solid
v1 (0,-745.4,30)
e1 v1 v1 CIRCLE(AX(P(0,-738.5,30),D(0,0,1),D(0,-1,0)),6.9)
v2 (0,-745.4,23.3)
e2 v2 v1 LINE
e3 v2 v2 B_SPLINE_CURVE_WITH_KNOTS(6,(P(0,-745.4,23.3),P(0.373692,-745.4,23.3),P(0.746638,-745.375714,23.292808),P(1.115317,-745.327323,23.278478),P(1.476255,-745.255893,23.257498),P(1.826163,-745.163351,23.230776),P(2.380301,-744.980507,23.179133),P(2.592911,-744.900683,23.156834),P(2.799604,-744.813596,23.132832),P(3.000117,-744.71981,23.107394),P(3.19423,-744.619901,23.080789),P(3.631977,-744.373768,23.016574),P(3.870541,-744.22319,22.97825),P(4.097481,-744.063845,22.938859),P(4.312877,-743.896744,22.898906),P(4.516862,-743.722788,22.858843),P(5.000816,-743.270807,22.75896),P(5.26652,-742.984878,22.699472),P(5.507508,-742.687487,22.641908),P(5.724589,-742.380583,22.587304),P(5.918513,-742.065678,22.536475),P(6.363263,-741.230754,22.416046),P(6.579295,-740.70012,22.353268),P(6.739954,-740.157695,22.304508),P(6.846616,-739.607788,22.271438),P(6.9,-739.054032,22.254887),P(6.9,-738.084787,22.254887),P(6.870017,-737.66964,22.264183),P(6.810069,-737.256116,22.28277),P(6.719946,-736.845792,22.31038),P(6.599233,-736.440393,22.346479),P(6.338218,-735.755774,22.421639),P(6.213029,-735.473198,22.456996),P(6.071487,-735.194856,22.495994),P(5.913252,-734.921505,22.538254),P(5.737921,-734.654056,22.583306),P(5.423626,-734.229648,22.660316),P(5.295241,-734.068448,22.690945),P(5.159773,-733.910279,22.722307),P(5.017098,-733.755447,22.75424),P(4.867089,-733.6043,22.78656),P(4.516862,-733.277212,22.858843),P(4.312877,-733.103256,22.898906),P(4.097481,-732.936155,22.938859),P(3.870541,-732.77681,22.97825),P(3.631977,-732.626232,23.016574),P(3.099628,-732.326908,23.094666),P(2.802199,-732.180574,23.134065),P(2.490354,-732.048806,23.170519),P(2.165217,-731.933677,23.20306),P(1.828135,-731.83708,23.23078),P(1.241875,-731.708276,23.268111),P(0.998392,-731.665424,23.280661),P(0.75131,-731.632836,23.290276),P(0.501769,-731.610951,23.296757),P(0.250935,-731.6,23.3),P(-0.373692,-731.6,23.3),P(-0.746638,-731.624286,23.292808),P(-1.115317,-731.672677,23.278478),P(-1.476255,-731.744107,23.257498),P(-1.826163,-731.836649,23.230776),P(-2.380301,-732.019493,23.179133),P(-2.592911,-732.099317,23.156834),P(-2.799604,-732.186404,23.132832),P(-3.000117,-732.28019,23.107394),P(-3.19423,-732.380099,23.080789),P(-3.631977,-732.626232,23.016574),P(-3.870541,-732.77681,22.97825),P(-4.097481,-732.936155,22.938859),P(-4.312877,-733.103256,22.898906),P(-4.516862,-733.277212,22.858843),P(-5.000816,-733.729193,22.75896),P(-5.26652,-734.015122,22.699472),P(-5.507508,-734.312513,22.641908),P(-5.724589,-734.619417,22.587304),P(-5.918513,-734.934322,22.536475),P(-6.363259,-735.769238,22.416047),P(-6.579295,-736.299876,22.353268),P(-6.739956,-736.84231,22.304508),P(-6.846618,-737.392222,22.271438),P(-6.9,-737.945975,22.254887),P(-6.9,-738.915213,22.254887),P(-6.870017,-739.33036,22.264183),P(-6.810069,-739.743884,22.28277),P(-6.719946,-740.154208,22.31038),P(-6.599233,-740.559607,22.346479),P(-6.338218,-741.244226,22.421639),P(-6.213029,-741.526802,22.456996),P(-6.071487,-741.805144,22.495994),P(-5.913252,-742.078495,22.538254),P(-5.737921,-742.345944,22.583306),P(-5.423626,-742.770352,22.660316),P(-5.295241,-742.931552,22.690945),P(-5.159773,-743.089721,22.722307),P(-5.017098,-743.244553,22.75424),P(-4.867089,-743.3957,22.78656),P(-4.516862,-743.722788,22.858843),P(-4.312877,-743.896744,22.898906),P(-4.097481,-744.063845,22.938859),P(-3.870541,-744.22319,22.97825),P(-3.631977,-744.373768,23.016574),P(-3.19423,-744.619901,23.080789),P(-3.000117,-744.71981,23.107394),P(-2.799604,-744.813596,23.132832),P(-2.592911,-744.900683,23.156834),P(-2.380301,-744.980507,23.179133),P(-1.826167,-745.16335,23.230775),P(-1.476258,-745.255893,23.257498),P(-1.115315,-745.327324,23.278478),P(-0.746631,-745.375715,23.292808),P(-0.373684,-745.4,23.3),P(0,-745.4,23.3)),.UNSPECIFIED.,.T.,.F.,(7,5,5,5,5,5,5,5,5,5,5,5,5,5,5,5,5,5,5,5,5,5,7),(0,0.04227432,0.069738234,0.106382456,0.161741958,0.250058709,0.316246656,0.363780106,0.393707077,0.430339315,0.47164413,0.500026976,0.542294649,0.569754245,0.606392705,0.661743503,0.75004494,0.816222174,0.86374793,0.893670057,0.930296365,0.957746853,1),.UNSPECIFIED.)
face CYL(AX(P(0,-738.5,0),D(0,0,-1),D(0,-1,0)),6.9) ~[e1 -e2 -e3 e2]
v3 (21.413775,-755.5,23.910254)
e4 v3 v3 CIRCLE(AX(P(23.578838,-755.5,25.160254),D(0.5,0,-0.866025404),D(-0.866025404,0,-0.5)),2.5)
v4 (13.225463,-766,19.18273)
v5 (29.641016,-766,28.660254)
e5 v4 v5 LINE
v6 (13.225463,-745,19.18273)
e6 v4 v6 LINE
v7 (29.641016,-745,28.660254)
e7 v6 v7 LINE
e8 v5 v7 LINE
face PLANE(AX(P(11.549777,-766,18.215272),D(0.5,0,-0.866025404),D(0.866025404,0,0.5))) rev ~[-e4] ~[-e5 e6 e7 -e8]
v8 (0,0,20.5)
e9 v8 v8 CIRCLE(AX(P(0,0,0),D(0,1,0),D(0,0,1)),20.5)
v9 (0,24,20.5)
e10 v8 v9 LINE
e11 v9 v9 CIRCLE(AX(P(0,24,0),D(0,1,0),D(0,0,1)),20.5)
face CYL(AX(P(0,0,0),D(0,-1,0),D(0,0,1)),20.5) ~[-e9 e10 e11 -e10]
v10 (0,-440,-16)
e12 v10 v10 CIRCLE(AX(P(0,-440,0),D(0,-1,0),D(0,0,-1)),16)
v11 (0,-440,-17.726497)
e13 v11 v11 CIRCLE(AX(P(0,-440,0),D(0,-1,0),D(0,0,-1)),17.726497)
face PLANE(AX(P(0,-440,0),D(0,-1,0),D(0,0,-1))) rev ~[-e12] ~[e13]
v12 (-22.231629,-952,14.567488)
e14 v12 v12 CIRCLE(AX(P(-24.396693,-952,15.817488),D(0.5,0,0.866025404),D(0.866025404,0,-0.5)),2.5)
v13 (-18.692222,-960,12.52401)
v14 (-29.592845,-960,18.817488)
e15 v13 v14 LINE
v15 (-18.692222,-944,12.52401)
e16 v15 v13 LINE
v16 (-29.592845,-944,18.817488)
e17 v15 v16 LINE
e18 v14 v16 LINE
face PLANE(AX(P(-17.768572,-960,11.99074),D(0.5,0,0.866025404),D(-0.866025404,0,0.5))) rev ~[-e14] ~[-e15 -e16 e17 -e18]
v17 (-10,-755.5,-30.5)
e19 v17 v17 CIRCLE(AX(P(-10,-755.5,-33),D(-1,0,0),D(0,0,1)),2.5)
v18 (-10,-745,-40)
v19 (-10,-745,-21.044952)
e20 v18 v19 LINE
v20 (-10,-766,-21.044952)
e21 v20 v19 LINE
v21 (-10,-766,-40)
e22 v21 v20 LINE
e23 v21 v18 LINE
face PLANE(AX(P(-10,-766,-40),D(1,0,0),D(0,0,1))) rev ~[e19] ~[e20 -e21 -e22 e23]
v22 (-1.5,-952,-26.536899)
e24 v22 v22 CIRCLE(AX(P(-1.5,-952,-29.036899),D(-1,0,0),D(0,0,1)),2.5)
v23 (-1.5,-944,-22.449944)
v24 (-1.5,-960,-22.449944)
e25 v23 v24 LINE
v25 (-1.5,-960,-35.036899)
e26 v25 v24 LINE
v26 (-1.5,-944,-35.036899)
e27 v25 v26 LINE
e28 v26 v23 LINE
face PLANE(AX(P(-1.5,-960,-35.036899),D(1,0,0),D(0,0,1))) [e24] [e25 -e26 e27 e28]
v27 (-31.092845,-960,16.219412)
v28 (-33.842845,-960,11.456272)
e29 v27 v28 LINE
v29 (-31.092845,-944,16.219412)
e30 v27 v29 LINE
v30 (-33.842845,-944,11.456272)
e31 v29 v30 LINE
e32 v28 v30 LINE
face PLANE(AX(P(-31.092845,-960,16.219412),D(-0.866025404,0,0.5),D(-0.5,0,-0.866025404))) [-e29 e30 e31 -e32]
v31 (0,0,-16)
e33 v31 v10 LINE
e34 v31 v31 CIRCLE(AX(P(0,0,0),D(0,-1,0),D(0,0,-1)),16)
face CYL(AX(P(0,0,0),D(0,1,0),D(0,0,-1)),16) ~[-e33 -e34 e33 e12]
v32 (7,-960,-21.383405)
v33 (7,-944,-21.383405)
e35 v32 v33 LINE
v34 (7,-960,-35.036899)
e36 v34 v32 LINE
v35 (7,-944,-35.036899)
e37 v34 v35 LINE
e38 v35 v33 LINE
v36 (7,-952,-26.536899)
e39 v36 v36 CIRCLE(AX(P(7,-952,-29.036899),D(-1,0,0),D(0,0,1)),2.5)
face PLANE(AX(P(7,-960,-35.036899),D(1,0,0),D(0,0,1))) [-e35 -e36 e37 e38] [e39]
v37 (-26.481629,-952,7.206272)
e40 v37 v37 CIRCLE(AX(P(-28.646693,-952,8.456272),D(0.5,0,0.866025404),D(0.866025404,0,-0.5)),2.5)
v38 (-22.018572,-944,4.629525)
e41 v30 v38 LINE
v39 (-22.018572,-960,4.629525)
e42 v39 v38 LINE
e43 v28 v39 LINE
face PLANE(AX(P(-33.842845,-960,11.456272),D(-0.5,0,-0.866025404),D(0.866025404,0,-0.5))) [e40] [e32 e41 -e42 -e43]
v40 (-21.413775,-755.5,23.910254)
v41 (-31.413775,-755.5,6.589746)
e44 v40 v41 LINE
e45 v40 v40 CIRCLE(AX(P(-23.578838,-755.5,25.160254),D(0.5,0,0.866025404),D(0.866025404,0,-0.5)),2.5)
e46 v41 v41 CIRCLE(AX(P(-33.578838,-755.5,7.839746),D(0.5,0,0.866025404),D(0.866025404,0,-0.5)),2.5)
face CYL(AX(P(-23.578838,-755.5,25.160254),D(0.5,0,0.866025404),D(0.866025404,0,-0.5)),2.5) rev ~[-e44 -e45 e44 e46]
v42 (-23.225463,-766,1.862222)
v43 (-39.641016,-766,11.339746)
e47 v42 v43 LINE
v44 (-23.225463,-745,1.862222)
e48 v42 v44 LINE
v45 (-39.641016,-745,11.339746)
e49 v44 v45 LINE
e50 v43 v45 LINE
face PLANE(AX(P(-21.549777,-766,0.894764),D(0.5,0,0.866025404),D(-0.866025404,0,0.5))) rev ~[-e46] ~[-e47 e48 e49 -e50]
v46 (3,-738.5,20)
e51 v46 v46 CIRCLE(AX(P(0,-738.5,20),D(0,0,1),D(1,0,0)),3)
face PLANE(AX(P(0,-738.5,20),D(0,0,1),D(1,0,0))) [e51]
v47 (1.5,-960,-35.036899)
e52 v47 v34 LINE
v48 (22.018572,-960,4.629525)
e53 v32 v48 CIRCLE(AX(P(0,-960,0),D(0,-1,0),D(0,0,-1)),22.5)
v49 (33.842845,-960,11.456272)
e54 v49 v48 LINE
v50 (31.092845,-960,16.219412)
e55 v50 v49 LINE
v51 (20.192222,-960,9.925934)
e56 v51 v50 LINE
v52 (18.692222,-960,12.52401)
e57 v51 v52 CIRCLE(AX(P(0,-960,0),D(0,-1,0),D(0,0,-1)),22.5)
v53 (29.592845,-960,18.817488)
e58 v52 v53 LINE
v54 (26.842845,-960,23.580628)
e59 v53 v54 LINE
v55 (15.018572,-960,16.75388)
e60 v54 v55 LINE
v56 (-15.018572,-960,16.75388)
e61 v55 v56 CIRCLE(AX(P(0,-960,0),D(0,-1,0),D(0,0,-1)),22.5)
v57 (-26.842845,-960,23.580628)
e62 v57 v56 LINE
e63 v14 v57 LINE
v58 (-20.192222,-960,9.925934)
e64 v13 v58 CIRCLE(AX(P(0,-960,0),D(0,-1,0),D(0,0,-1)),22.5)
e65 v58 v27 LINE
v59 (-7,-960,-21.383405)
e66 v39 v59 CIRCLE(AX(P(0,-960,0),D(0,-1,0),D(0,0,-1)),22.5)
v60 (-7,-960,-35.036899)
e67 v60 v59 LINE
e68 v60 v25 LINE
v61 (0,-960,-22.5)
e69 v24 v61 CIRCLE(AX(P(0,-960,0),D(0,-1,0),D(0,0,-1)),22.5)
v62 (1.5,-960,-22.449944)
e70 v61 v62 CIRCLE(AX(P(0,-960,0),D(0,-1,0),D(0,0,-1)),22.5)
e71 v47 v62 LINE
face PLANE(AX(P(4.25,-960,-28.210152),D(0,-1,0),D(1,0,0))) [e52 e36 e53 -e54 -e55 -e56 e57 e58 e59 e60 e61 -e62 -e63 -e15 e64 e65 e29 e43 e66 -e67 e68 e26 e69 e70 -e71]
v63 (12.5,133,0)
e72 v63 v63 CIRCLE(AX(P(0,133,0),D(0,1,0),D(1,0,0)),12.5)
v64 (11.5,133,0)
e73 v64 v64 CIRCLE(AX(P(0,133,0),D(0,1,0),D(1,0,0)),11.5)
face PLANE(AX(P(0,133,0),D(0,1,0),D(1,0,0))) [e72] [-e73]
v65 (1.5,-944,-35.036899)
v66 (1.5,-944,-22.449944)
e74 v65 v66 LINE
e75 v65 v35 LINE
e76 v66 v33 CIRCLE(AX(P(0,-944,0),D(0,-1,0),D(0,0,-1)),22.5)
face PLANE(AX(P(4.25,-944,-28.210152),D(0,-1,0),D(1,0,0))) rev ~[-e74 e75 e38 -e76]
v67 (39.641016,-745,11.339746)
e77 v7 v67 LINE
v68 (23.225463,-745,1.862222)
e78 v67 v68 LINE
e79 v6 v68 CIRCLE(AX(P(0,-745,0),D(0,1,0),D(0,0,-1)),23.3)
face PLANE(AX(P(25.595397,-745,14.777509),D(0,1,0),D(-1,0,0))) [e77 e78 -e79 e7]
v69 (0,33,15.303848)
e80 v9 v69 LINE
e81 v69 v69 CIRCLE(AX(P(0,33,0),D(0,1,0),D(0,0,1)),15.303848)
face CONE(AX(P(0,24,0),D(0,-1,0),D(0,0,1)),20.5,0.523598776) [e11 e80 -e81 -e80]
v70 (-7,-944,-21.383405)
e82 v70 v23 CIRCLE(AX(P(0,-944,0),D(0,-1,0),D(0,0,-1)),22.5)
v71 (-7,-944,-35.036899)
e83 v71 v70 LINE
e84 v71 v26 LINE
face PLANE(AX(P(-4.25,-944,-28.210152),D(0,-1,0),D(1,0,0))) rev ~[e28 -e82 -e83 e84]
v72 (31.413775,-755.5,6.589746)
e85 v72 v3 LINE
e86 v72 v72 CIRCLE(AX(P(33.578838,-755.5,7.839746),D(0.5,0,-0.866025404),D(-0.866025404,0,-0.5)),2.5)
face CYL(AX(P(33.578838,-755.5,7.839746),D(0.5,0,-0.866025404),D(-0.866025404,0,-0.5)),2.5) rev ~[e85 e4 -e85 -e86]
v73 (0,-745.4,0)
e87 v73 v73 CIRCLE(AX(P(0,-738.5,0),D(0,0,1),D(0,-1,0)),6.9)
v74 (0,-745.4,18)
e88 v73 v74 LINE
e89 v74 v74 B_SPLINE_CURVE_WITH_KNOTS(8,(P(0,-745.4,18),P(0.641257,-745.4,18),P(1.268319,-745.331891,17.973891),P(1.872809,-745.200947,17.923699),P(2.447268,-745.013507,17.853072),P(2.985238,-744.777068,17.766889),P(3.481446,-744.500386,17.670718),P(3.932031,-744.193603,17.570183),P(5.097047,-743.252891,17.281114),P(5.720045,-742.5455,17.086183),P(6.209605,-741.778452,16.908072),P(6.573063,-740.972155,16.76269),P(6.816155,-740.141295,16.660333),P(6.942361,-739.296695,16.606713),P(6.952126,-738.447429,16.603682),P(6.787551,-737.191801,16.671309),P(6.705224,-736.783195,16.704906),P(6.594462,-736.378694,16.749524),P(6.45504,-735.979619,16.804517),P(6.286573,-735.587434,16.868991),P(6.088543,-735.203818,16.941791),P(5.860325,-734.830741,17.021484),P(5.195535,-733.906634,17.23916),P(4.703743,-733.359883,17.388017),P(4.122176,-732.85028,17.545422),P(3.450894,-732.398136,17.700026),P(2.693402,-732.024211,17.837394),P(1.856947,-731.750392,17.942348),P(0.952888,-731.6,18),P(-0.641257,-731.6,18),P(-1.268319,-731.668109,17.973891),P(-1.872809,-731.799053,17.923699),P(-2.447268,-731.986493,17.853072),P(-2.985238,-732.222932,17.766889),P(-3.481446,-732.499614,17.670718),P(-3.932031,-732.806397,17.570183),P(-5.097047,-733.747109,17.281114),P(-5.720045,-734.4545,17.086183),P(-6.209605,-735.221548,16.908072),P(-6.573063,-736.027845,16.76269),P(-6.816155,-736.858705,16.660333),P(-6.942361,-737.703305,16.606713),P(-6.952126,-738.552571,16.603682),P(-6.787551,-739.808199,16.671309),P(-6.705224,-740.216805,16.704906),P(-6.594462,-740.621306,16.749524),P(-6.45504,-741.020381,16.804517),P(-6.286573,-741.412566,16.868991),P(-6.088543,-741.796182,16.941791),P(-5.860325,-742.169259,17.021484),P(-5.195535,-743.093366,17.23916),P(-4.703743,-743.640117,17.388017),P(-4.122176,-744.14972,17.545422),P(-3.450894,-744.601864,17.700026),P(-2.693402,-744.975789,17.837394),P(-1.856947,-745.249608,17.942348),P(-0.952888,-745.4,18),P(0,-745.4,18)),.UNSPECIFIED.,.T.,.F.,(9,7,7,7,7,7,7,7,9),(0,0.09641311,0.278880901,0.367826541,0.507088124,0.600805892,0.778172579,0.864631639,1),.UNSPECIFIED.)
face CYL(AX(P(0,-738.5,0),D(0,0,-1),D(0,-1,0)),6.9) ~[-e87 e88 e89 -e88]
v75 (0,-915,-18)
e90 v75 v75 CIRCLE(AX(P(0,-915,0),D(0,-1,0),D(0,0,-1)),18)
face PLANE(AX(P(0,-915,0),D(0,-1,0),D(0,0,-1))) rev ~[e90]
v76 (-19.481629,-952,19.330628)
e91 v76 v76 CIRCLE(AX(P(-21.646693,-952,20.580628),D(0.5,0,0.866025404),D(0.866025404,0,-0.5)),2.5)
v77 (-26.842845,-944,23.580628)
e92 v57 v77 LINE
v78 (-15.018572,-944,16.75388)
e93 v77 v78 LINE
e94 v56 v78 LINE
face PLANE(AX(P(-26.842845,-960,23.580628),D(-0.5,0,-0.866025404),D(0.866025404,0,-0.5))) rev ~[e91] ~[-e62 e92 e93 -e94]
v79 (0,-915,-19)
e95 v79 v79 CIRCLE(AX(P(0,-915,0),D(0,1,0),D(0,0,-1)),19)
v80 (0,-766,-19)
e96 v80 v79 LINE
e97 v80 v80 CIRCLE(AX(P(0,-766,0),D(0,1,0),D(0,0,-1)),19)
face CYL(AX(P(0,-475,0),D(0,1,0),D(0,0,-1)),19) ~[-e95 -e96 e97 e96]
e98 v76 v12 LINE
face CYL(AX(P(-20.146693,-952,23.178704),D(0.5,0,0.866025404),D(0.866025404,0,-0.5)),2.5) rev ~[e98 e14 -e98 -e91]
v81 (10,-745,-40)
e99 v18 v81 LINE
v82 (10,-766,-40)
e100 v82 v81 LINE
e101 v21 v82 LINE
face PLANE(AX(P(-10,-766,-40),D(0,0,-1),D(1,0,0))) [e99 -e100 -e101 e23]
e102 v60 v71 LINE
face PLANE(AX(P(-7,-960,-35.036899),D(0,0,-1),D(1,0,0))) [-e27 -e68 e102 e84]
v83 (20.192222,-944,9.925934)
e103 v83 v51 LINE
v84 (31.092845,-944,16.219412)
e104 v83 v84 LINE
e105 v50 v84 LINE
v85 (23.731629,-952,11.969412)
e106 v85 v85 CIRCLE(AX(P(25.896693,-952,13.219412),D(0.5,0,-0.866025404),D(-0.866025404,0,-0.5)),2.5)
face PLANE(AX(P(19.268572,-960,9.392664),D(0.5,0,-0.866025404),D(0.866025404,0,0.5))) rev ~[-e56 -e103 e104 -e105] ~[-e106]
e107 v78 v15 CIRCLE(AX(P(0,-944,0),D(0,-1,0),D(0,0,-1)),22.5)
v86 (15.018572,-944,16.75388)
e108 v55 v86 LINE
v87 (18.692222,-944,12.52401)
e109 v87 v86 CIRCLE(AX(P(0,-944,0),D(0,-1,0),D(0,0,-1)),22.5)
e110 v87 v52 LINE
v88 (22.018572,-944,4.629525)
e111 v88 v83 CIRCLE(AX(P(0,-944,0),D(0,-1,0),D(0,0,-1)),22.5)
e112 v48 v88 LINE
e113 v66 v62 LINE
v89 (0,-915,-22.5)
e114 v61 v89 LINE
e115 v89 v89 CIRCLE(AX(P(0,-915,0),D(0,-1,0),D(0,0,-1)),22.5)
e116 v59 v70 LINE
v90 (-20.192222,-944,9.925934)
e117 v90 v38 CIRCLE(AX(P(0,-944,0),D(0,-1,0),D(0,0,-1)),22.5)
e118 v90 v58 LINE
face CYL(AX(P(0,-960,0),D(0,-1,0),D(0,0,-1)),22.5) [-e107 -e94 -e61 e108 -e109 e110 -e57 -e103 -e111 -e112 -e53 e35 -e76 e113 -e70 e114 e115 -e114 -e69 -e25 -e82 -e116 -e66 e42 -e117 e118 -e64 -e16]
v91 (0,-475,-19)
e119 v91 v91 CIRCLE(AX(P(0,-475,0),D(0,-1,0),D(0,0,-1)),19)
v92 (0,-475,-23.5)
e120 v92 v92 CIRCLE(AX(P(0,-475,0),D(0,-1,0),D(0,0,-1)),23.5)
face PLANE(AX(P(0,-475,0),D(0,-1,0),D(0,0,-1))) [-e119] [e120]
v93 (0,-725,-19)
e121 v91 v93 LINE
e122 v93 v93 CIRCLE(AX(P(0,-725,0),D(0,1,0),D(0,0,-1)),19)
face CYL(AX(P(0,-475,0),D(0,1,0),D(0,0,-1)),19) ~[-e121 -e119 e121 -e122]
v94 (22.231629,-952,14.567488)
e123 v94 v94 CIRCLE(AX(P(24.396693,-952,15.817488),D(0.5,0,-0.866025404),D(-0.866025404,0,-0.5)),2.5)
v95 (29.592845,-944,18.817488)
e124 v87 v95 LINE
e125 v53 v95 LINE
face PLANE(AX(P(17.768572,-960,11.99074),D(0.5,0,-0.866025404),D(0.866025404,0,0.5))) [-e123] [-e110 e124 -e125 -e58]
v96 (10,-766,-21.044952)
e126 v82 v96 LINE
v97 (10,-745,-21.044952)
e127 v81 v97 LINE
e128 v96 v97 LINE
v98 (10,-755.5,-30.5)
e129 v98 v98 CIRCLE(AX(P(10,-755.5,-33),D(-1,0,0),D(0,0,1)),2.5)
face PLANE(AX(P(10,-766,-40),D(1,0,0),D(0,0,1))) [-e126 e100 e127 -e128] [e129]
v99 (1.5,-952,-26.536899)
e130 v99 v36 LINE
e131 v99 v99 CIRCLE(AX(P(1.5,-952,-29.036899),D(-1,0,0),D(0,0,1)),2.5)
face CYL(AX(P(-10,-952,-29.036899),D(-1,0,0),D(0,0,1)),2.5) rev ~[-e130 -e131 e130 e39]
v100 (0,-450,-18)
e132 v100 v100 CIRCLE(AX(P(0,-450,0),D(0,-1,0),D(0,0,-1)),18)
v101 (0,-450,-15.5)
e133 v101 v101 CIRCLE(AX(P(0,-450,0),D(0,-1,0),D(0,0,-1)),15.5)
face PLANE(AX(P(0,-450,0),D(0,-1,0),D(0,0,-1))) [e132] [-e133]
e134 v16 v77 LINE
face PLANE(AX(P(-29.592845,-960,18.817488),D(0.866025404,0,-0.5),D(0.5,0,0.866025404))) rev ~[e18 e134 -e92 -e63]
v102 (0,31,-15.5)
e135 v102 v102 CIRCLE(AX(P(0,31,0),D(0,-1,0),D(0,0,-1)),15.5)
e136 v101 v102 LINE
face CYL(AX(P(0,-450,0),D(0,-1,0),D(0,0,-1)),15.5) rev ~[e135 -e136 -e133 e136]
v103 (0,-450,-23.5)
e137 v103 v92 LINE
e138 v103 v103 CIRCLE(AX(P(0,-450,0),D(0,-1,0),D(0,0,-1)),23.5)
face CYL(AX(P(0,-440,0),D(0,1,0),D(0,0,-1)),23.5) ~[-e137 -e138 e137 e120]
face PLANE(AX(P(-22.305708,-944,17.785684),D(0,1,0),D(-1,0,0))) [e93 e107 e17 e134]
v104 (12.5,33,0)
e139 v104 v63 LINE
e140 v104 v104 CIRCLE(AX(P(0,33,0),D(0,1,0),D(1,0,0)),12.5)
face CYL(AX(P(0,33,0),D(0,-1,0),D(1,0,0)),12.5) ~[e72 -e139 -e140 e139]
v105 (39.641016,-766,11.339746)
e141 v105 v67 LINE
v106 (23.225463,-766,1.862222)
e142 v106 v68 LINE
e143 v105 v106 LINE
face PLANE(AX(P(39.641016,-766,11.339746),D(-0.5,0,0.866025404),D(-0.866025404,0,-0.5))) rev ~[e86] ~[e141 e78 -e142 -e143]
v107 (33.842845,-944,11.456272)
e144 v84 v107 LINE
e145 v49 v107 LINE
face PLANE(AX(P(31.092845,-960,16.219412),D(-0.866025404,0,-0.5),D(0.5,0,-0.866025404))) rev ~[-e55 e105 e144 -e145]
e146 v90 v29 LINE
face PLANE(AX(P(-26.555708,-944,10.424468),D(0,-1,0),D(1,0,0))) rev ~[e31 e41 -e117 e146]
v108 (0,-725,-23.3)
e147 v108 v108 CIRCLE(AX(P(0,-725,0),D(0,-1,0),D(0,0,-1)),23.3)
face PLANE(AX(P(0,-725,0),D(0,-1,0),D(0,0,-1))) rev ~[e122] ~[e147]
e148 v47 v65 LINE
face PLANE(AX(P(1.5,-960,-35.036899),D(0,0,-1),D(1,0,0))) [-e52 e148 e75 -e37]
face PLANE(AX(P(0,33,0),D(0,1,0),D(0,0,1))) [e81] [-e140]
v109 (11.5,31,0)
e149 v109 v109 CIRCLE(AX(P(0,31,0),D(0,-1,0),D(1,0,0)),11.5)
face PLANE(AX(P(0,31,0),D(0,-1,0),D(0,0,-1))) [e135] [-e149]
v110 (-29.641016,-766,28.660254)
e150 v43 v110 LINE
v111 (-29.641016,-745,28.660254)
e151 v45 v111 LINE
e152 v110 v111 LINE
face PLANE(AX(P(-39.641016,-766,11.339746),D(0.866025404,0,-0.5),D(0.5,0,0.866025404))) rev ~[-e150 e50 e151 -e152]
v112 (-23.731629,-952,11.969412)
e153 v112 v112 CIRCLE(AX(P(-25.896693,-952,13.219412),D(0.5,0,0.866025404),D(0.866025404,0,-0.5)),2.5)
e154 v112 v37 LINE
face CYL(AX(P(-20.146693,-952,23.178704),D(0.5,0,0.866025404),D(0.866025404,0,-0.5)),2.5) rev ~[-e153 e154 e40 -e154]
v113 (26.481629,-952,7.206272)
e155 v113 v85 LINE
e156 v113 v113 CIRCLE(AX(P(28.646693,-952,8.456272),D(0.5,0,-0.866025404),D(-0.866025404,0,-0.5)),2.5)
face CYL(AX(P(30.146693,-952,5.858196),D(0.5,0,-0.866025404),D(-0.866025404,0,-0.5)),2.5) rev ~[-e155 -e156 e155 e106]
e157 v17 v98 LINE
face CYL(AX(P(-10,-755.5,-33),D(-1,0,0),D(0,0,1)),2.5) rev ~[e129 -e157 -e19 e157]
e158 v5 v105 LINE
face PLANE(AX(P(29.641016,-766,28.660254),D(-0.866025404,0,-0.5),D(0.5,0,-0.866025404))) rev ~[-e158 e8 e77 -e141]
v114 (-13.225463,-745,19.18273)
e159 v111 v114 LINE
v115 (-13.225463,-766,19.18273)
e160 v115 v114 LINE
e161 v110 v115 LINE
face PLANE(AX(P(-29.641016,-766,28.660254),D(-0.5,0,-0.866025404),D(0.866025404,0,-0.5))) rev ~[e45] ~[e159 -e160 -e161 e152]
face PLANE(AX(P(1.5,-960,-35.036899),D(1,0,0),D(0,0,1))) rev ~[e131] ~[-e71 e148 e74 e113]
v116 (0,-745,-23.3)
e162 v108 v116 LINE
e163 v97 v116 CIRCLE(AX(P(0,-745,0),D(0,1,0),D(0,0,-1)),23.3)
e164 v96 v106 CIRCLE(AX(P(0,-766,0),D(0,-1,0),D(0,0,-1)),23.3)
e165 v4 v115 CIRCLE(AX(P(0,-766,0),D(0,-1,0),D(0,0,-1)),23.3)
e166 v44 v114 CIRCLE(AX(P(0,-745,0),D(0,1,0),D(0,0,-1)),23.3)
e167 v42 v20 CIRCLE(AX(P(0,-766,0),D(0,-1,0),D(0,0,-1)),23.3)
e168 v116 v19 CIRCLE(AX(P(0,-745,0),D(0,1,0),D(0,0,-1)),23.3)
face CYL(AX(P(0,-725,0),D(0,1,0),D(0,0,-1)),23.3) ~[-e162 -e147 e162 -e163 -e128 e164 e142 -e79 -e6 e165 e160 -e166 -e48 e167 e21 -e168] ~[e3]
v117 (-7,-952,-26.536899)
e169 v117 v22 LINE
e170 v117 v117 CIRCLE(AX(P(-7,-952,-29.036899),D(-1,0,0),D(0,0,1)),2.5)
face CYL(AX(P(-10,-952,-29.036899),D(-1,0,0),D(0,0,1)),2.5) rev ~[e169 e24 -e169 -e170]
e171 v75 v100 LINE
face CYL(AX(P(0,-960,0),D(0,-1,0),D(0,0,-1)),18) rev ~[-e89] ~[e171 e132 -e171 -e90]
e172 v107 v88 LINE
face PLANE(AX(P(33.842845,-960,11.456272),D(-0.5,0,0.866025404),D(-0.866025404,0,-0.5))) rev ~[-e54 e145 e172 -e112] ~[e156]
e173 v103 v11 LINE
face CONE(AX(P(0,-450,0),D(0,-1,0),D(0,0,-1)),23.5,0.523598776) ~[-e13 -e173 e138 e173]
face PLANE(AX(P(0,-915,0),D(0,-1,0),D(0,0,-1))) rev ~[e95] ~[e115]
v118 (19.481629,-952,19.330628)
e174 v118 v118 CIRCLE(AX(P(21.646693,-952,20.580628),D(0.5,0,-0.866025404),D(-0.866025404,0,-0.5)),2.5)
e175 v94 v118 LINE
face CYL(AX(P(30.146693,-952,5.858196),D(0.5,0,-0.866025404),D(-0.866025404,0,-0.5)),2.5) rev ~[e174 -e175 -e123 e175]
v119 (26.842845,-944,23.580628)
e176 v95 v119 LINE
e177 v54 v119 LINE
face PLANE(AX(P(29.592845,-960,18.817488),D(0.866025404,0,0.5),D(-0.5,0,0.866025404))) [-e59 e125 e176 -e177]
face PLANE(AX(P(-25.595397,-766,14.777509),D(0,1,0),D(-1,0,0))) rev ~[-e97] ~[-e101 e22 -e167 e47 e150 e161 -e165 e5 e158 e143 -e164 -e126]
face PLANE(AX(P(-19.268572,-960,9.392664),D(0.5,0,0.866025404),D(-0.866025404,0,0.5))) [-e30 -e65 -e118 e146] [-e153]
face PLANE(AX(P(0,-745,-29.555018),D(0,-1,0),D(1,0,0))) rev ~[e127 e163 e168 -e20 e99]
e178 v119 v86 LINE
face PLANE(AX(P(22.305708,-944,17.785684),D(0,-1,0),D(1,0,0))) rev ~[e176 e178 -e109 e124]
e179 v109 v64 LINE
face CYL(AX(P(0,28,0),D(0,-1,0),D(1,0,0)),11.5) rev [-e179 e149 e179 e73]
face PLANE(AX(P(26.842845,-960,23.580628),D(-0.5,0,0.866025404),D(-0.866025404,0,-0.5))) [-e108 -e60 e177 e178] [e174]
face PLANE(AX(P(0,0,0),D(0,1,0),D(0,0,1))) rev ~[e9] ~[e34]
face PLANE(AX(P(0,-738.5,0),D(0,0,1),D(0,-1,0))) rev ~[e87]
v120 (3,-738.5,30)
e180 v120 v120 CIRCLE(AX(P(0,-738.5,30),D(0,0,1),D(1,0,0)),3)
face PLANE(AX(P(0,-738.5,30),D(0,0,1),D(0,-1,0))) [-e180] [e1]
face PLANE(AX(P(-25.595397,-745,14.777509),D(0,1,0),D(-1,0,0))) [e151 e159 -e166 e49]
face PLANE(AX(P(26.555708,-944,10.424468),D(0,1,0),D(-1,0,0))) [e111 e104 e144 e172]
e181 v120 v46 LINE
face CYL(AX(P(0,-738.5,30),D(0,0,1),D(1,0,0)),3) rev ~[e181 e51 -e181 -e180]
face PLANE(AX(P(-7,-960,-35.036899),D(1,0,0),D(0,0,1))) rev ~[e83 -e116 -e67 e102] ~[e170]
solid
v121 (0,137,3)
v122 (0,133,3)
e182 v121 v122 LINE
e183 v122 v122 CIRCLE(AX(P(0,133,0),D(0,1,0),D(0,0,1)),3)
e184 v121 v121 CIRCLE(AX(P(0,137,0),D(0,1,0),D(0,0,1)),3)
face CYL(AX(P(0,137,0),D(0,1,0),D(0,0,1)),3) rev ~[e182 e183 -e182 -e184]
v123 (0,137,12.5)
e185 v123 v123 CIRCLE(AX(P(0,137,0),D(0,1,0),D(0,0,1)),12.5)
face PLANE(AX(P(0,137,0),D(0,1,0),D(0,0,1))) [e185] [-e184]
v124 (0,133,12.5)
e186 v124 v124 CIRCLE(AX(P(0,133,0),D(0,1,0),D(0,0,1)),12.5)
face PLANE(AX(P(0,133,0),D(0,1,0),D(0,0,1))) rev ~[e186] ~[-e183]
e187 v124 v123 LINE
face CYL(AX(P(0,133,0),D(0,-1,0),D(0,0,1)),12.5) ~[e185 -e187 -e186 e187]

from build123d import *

# Parameters (mm, degrees)
SKETCH_1_R               = 20.5
EXTRUDE_1_DEPTH          = 33
CHAMFER_1_SIZE           = 9
CHAMFER_1_SIZE2          = 5.196152423
SKETCH_2_R               = 16
F_2_MAX_440_DEPTH        = 440
SKETCH_3_R               = 23.5
EXTRUDE_3_DEPTH          = 35
CHAMFER_2_SIZE           = 10
CHAMFER_2_SIZE2          = 5.773502692
SKETCH_4_R               = 19
EXTRUDE_4_DEPTH          = 485
SKETCH_12_R              = 18
CUT_EXTRUDE_2_DEPTH      = 510
SKETCH_14_R              = 15.5
CUT_EXTRUDE_3_DEPTH      = 481
SKETCH_15_R              = 12.5
SKETCH_15_R_2            = 11.5
F_1_MAX_500_DEPTH        = 100
CUT_EXTRUDE_START        = -5
SKETCH_16_R              = 11.5
CUT_EXTRUDE_4_DEPTH      = 5
SKETCH_17_R              = 12.5
EXTRUDE_9_DEPTH          = 4
SKETCH_18_R              = 3
CUT_EXTRUDE_5_DEPTH      = 4
SKETCH_5_R               = 23.3
SKETCH_5_R_2             = 18.5
EXTRUDE_5_DEPTH          = 41
SKETCH_6_R               = 22.5
EXTRUDE_6_DEPTH          = 45
SKETCH_8_R               = 6.9
EXTRUDE_7_DEPTH          = 30
SKETCH_9_W               = 20
SKETCH_9_H               = 20.88996333
EXTRUDE_8_DEPTH          = 21
SKETCH_22_W              = 5.5
SKETCH_22_H              = 13.65349464
EXTRUDE_10_DEPTH         = 16
SKETCH_19_R              = 2.5
CUT_EXTRUDE_6_DEPTH      = 30
PATTERN_CIRCULAR_3_COUNT = 3
SKETCH_21_R              = 3
CUT_EXTRUDE_7_DEPTH      = 10


with BuildPart() as part:
    # Эскиз1 → Бобышка-Вытянуть1 (new body)
    with BuildSketch(Plane(origin=(0, 0, 0), x_dir=(1, 0, 0), z_dir=(0, 1, 0))):
        with Locations(Location((0, 0, 0), (0, 0, 270))):
            Circle(SKETCH_1_R)
    extrude(amount=EXTRUDE_1_DEPTH)

    # Фаска1
    chamfer_1_edges = [part.edges().sort_by_distance(p)[0] for p in [
        (0, 33, -20.5),
    ]]
    chamfer_1_side = [part.faces().sort_by_distance(p)[0] for p in [
        (0, 16.5, -20.5),
    ]]
    chamfer(chamfer_1_edges, length=CHAMFER_1_SIZE, length2=CHAMFER_1_SIZE2, reference=chamfer_1_side[0])

    # Эскиз2 → --столбик2 (max 440) (add)
    with BuildSketch(Plane.XZ):
        with Locations(Location((0, 0, 0), (0, 0, 270))):
            Circle(SKETCH_2_R)
    extrude(amount=F_2_MAX_440_DEPTH)

    # Эскиз3 → Бобышка-Вытянуть3 (add)
    with BuildSketch(Plane.XZ.offset(440)):
        with Locations(Location((0, 0, 0), (0, 0, 270))):
            Circle(SKETCH_3_R)
    extrude(amount=EXTRUDE_3_DEPTH)

    # Фаска2
    chamfer_2_edges = [part.edges().sort_by_distance(p)[0] for p in [
        (0, -440, 23.5),
    ]]
    chamfer_2_side = [part.faces().sort_by_distance(p)[0] for p in [
        (0, -457.5, 23.5),
    ]]
    chamfer(chamfer_2_edges, length=CHAMFER_2_SIZE, length2=CHAMFER_2_SIZE2, reference=chamfer_2_side[0])

    # Эскиз4 → Бобышка-Вытянуть4 (add)
    with BuildSketch(Plane.XZ.offset(475)):
        with Locations(Location((0, 0, 0), (0, 0, 270))):
            Circle(SKETCH_4_R)
    extrude(amount=EXTRUDE_4_DEPTH)

    # Эскиз12 → Вырез-Вытянуть2 (cut)
    with BuildSketch(Plane.XZ.offset(960)):
        with Locations(Location((0, 0, 0), (0, 0, 270))):
            Circle(SKETCH_12_R)
    extrude(amount=-CUT_EXTRUDE_2_DEPTH, mode=Mode.SUBTRACT)

    # Эскиз14 → Вырез-Вытянуть3 (cut)
    with BuildSketch(Plane.XZ.offset(450)):
        with Locations(Location((0, 0, 0), (0, 0, 270))):
            Circle(SKETCH_14_R)
    extrude(amount=-CUT_EXTRUDE_3_DEPTH, mode=Mode.SUBTRACT)

    # Эскиз15 → --столбик1 (max 500) (add)
    with BuildSketch(Plane(origin=(0, 33, 0), x_dir=(1, 0, 0), z_dir=(0, 1, 0))):
        Circle(SKETCH_15_R)
        Circle(SKETCH_15_R_2, mode=Mode.SUBTRACT)
    extrude(amount=F_1_MAX_500_DEPTH)

    # Эскиз16 → Вырез-Вытянуть4 (cut)
    with BuildSketch(Plane(origin=(0, 33, 0), x_dir=(1, 0, 0), z_dir=(0, 1, 0)).offset(CUT_EXTRUDE_START)):
        Circle(SKETCH_16_R)
    extrude(amount=CUT_EXTRUDE_4_DEPTH, mode=Mode.SUBTRACT)

    # Эскиз5 → Бобышка-Вытянуть5 (add)
    with BuildSketch(Plane(origin=(0, -725, 0), x_dir=(-1, 0, 0), z_dir=(0, -1, 0))):
        with Locations(Location((0, 0, 0), (0, 0, 90))):
            Circle(SKETCH_5_R)
        Circle(SKETCH_5_R_2, mode=Mode.SUBTRACT)
    extrude(amount=EXTRUDE_5_DEPTH)

    # Эскиз6 → Бобышка-Вытянуть6 (add)
    with BuildSketch(Plane.XZ.offset(960)):
        with Locations(Location((0, 0, 0), (0, 0, 270))):
            Circle(SKETCH_6_R)
    extrude(amount=-EXTRUDE_6_DEPTH)

    # Эскиз8 → Бобышка-Вытянуть7 (add)
    with BuildSketch(Plane.XY):
        with Locations(Location((0, -738.5, 0), (0, 0, 270))):
            Circle(SKETCH_8_R)
    extrude(amount=EXTRUDE_7_DEPTH)

    # Эскиз9 → Бобышка-Вытянуть8 (add)
    with BuildSketch(Plane.XZ.offset(766)):
        Polygon((-39.641016151, 11.339745962), (-29.641016151, 28.660254038), (-11.549777223, 18.215272373), (-21.549777223, 0.894764297), align=None)
        with Locations((0, -29.555018335)):
            Rectangle(SKETCH_9_W, SKETCH_9_H)
        Polygon((29.641016151, 28.660254038), (39.641016151, 11.339745962), (21.549777223, 0.894764297), (11.549777223, 18.215272373), align=None)
    extrude(amount=-EXTRUDE_8_DEPTH)

    # Эскиз22 → Бобышка-Вытянуть10 (add)
    with BuildSketch(Plane.XZ.offset(960)):
        with Locations((4.25, -28.2101521)):
            Rectangle(SKETCH_22_W, SKETCH_22_H)
        with Locations((-4.25, -28.2101521)):
            Rectangle(SKETCH_22_W, SKETCH_22_H)
        Polygon((-33.842844968, 11.456271884), (-22.018571759, 4.629524564), (-19.268571759, 9.392664284), (-31.092844968, 16.219411605), align=None)
        Polygon((-26.842844968, 23.580627537), (-15.018571759, 16.753880217), (-17.768571759, 11.990740496), (-29.592844968, 18.817487816), align=None)
        Polygon((26.842844968, 23.580627537), (15.018571759, 16.753880217), (17.768571759, 11.990740496), (29.592844968, 18.817487816), align=None)
        Polygon((33.842844968, 11.456271884), (22.018571759, 4.629524564), (19.268571759, 9.392664284), (31.092844968, 16.219411605), align=None)
    extrude(amount=-EXTRUDE_10_DEPTH)

    # Эскиз19 → Вырез-Вытянуть6 (cut)
    with BuildSketch(Plane(origin=(5, 0, 8.660254038), x_dir=(0.8660254037844387, 0, -0.4999999999999999), z_dir=(0.49999999999999994, 0, 0.8660254037844388))):
        with Locations((-33, -755.5)):
            Circle(SKETCH_19_R)
        with Locations((-29.03689942, -952)):
            Circle(SKETCH_19_R)
    cut_extrude_6 = extrude(amount=-CUT_EXTRUDE_6_DEPTH, mode=Mode.SUBTRACT)

    # Круговой массив3: Вырез-Вытянуть6 ×3 about axis
    pattern_circular_3_axis = Axis((0, -960, 0), (0, 1, 0))
    for i in range(1, PATTERN_CIRCULAR_3_COUNT):
        add(cut_extrude_6.rotate(pattern_circular_3_axis, i * 360 / PATTERN_CIRCULAR_3_COUNT), mode=Mode.SUBTRACT)

    # Эскиз21 → Вырез-Вытянуть7 (cut)
    with BuildSketch(Plane.XY.offset(30)):
        with Locations((0, -738.5)):
            Circle(SKETCH_21_R)
    extrude(amount=-CUT_EXTRUDE_7_DEPTH, mode=Mode.SUBTRACT)


with BuildPart() as body_2:
    # Эскиз17 → Бобышка-Вытянуть9 (new body)
    with BuildSketch(Plane(origin=(0, 133, 0), x_dir=(1, 0, 0), z_dir=(0, 1, 0))):
        with Locations(Location((0, 0, 0), (0, 0, 270))):
            Circle(SKETCH_17_R)
    extrude(amount=EXTRUDE_9_DEPTH)

    # Эскиз18 → Вырез-Вытянуть5 (cut)
    with BuildSketch(Plane(origin=(0, 137, 0), x_dir=(1, 0, 0), z_dir=(0, 1, 0))):
        with Locations(Location((0, 0, 0), (0, 0, 270))):
            Circle(SKETCH_18_R)
    extrude(amount=-CUT_EXTRUDE_5_DEPTH, mode=Mode.SUBTRACT)


solid = Compound([part.part, body_2.part])
